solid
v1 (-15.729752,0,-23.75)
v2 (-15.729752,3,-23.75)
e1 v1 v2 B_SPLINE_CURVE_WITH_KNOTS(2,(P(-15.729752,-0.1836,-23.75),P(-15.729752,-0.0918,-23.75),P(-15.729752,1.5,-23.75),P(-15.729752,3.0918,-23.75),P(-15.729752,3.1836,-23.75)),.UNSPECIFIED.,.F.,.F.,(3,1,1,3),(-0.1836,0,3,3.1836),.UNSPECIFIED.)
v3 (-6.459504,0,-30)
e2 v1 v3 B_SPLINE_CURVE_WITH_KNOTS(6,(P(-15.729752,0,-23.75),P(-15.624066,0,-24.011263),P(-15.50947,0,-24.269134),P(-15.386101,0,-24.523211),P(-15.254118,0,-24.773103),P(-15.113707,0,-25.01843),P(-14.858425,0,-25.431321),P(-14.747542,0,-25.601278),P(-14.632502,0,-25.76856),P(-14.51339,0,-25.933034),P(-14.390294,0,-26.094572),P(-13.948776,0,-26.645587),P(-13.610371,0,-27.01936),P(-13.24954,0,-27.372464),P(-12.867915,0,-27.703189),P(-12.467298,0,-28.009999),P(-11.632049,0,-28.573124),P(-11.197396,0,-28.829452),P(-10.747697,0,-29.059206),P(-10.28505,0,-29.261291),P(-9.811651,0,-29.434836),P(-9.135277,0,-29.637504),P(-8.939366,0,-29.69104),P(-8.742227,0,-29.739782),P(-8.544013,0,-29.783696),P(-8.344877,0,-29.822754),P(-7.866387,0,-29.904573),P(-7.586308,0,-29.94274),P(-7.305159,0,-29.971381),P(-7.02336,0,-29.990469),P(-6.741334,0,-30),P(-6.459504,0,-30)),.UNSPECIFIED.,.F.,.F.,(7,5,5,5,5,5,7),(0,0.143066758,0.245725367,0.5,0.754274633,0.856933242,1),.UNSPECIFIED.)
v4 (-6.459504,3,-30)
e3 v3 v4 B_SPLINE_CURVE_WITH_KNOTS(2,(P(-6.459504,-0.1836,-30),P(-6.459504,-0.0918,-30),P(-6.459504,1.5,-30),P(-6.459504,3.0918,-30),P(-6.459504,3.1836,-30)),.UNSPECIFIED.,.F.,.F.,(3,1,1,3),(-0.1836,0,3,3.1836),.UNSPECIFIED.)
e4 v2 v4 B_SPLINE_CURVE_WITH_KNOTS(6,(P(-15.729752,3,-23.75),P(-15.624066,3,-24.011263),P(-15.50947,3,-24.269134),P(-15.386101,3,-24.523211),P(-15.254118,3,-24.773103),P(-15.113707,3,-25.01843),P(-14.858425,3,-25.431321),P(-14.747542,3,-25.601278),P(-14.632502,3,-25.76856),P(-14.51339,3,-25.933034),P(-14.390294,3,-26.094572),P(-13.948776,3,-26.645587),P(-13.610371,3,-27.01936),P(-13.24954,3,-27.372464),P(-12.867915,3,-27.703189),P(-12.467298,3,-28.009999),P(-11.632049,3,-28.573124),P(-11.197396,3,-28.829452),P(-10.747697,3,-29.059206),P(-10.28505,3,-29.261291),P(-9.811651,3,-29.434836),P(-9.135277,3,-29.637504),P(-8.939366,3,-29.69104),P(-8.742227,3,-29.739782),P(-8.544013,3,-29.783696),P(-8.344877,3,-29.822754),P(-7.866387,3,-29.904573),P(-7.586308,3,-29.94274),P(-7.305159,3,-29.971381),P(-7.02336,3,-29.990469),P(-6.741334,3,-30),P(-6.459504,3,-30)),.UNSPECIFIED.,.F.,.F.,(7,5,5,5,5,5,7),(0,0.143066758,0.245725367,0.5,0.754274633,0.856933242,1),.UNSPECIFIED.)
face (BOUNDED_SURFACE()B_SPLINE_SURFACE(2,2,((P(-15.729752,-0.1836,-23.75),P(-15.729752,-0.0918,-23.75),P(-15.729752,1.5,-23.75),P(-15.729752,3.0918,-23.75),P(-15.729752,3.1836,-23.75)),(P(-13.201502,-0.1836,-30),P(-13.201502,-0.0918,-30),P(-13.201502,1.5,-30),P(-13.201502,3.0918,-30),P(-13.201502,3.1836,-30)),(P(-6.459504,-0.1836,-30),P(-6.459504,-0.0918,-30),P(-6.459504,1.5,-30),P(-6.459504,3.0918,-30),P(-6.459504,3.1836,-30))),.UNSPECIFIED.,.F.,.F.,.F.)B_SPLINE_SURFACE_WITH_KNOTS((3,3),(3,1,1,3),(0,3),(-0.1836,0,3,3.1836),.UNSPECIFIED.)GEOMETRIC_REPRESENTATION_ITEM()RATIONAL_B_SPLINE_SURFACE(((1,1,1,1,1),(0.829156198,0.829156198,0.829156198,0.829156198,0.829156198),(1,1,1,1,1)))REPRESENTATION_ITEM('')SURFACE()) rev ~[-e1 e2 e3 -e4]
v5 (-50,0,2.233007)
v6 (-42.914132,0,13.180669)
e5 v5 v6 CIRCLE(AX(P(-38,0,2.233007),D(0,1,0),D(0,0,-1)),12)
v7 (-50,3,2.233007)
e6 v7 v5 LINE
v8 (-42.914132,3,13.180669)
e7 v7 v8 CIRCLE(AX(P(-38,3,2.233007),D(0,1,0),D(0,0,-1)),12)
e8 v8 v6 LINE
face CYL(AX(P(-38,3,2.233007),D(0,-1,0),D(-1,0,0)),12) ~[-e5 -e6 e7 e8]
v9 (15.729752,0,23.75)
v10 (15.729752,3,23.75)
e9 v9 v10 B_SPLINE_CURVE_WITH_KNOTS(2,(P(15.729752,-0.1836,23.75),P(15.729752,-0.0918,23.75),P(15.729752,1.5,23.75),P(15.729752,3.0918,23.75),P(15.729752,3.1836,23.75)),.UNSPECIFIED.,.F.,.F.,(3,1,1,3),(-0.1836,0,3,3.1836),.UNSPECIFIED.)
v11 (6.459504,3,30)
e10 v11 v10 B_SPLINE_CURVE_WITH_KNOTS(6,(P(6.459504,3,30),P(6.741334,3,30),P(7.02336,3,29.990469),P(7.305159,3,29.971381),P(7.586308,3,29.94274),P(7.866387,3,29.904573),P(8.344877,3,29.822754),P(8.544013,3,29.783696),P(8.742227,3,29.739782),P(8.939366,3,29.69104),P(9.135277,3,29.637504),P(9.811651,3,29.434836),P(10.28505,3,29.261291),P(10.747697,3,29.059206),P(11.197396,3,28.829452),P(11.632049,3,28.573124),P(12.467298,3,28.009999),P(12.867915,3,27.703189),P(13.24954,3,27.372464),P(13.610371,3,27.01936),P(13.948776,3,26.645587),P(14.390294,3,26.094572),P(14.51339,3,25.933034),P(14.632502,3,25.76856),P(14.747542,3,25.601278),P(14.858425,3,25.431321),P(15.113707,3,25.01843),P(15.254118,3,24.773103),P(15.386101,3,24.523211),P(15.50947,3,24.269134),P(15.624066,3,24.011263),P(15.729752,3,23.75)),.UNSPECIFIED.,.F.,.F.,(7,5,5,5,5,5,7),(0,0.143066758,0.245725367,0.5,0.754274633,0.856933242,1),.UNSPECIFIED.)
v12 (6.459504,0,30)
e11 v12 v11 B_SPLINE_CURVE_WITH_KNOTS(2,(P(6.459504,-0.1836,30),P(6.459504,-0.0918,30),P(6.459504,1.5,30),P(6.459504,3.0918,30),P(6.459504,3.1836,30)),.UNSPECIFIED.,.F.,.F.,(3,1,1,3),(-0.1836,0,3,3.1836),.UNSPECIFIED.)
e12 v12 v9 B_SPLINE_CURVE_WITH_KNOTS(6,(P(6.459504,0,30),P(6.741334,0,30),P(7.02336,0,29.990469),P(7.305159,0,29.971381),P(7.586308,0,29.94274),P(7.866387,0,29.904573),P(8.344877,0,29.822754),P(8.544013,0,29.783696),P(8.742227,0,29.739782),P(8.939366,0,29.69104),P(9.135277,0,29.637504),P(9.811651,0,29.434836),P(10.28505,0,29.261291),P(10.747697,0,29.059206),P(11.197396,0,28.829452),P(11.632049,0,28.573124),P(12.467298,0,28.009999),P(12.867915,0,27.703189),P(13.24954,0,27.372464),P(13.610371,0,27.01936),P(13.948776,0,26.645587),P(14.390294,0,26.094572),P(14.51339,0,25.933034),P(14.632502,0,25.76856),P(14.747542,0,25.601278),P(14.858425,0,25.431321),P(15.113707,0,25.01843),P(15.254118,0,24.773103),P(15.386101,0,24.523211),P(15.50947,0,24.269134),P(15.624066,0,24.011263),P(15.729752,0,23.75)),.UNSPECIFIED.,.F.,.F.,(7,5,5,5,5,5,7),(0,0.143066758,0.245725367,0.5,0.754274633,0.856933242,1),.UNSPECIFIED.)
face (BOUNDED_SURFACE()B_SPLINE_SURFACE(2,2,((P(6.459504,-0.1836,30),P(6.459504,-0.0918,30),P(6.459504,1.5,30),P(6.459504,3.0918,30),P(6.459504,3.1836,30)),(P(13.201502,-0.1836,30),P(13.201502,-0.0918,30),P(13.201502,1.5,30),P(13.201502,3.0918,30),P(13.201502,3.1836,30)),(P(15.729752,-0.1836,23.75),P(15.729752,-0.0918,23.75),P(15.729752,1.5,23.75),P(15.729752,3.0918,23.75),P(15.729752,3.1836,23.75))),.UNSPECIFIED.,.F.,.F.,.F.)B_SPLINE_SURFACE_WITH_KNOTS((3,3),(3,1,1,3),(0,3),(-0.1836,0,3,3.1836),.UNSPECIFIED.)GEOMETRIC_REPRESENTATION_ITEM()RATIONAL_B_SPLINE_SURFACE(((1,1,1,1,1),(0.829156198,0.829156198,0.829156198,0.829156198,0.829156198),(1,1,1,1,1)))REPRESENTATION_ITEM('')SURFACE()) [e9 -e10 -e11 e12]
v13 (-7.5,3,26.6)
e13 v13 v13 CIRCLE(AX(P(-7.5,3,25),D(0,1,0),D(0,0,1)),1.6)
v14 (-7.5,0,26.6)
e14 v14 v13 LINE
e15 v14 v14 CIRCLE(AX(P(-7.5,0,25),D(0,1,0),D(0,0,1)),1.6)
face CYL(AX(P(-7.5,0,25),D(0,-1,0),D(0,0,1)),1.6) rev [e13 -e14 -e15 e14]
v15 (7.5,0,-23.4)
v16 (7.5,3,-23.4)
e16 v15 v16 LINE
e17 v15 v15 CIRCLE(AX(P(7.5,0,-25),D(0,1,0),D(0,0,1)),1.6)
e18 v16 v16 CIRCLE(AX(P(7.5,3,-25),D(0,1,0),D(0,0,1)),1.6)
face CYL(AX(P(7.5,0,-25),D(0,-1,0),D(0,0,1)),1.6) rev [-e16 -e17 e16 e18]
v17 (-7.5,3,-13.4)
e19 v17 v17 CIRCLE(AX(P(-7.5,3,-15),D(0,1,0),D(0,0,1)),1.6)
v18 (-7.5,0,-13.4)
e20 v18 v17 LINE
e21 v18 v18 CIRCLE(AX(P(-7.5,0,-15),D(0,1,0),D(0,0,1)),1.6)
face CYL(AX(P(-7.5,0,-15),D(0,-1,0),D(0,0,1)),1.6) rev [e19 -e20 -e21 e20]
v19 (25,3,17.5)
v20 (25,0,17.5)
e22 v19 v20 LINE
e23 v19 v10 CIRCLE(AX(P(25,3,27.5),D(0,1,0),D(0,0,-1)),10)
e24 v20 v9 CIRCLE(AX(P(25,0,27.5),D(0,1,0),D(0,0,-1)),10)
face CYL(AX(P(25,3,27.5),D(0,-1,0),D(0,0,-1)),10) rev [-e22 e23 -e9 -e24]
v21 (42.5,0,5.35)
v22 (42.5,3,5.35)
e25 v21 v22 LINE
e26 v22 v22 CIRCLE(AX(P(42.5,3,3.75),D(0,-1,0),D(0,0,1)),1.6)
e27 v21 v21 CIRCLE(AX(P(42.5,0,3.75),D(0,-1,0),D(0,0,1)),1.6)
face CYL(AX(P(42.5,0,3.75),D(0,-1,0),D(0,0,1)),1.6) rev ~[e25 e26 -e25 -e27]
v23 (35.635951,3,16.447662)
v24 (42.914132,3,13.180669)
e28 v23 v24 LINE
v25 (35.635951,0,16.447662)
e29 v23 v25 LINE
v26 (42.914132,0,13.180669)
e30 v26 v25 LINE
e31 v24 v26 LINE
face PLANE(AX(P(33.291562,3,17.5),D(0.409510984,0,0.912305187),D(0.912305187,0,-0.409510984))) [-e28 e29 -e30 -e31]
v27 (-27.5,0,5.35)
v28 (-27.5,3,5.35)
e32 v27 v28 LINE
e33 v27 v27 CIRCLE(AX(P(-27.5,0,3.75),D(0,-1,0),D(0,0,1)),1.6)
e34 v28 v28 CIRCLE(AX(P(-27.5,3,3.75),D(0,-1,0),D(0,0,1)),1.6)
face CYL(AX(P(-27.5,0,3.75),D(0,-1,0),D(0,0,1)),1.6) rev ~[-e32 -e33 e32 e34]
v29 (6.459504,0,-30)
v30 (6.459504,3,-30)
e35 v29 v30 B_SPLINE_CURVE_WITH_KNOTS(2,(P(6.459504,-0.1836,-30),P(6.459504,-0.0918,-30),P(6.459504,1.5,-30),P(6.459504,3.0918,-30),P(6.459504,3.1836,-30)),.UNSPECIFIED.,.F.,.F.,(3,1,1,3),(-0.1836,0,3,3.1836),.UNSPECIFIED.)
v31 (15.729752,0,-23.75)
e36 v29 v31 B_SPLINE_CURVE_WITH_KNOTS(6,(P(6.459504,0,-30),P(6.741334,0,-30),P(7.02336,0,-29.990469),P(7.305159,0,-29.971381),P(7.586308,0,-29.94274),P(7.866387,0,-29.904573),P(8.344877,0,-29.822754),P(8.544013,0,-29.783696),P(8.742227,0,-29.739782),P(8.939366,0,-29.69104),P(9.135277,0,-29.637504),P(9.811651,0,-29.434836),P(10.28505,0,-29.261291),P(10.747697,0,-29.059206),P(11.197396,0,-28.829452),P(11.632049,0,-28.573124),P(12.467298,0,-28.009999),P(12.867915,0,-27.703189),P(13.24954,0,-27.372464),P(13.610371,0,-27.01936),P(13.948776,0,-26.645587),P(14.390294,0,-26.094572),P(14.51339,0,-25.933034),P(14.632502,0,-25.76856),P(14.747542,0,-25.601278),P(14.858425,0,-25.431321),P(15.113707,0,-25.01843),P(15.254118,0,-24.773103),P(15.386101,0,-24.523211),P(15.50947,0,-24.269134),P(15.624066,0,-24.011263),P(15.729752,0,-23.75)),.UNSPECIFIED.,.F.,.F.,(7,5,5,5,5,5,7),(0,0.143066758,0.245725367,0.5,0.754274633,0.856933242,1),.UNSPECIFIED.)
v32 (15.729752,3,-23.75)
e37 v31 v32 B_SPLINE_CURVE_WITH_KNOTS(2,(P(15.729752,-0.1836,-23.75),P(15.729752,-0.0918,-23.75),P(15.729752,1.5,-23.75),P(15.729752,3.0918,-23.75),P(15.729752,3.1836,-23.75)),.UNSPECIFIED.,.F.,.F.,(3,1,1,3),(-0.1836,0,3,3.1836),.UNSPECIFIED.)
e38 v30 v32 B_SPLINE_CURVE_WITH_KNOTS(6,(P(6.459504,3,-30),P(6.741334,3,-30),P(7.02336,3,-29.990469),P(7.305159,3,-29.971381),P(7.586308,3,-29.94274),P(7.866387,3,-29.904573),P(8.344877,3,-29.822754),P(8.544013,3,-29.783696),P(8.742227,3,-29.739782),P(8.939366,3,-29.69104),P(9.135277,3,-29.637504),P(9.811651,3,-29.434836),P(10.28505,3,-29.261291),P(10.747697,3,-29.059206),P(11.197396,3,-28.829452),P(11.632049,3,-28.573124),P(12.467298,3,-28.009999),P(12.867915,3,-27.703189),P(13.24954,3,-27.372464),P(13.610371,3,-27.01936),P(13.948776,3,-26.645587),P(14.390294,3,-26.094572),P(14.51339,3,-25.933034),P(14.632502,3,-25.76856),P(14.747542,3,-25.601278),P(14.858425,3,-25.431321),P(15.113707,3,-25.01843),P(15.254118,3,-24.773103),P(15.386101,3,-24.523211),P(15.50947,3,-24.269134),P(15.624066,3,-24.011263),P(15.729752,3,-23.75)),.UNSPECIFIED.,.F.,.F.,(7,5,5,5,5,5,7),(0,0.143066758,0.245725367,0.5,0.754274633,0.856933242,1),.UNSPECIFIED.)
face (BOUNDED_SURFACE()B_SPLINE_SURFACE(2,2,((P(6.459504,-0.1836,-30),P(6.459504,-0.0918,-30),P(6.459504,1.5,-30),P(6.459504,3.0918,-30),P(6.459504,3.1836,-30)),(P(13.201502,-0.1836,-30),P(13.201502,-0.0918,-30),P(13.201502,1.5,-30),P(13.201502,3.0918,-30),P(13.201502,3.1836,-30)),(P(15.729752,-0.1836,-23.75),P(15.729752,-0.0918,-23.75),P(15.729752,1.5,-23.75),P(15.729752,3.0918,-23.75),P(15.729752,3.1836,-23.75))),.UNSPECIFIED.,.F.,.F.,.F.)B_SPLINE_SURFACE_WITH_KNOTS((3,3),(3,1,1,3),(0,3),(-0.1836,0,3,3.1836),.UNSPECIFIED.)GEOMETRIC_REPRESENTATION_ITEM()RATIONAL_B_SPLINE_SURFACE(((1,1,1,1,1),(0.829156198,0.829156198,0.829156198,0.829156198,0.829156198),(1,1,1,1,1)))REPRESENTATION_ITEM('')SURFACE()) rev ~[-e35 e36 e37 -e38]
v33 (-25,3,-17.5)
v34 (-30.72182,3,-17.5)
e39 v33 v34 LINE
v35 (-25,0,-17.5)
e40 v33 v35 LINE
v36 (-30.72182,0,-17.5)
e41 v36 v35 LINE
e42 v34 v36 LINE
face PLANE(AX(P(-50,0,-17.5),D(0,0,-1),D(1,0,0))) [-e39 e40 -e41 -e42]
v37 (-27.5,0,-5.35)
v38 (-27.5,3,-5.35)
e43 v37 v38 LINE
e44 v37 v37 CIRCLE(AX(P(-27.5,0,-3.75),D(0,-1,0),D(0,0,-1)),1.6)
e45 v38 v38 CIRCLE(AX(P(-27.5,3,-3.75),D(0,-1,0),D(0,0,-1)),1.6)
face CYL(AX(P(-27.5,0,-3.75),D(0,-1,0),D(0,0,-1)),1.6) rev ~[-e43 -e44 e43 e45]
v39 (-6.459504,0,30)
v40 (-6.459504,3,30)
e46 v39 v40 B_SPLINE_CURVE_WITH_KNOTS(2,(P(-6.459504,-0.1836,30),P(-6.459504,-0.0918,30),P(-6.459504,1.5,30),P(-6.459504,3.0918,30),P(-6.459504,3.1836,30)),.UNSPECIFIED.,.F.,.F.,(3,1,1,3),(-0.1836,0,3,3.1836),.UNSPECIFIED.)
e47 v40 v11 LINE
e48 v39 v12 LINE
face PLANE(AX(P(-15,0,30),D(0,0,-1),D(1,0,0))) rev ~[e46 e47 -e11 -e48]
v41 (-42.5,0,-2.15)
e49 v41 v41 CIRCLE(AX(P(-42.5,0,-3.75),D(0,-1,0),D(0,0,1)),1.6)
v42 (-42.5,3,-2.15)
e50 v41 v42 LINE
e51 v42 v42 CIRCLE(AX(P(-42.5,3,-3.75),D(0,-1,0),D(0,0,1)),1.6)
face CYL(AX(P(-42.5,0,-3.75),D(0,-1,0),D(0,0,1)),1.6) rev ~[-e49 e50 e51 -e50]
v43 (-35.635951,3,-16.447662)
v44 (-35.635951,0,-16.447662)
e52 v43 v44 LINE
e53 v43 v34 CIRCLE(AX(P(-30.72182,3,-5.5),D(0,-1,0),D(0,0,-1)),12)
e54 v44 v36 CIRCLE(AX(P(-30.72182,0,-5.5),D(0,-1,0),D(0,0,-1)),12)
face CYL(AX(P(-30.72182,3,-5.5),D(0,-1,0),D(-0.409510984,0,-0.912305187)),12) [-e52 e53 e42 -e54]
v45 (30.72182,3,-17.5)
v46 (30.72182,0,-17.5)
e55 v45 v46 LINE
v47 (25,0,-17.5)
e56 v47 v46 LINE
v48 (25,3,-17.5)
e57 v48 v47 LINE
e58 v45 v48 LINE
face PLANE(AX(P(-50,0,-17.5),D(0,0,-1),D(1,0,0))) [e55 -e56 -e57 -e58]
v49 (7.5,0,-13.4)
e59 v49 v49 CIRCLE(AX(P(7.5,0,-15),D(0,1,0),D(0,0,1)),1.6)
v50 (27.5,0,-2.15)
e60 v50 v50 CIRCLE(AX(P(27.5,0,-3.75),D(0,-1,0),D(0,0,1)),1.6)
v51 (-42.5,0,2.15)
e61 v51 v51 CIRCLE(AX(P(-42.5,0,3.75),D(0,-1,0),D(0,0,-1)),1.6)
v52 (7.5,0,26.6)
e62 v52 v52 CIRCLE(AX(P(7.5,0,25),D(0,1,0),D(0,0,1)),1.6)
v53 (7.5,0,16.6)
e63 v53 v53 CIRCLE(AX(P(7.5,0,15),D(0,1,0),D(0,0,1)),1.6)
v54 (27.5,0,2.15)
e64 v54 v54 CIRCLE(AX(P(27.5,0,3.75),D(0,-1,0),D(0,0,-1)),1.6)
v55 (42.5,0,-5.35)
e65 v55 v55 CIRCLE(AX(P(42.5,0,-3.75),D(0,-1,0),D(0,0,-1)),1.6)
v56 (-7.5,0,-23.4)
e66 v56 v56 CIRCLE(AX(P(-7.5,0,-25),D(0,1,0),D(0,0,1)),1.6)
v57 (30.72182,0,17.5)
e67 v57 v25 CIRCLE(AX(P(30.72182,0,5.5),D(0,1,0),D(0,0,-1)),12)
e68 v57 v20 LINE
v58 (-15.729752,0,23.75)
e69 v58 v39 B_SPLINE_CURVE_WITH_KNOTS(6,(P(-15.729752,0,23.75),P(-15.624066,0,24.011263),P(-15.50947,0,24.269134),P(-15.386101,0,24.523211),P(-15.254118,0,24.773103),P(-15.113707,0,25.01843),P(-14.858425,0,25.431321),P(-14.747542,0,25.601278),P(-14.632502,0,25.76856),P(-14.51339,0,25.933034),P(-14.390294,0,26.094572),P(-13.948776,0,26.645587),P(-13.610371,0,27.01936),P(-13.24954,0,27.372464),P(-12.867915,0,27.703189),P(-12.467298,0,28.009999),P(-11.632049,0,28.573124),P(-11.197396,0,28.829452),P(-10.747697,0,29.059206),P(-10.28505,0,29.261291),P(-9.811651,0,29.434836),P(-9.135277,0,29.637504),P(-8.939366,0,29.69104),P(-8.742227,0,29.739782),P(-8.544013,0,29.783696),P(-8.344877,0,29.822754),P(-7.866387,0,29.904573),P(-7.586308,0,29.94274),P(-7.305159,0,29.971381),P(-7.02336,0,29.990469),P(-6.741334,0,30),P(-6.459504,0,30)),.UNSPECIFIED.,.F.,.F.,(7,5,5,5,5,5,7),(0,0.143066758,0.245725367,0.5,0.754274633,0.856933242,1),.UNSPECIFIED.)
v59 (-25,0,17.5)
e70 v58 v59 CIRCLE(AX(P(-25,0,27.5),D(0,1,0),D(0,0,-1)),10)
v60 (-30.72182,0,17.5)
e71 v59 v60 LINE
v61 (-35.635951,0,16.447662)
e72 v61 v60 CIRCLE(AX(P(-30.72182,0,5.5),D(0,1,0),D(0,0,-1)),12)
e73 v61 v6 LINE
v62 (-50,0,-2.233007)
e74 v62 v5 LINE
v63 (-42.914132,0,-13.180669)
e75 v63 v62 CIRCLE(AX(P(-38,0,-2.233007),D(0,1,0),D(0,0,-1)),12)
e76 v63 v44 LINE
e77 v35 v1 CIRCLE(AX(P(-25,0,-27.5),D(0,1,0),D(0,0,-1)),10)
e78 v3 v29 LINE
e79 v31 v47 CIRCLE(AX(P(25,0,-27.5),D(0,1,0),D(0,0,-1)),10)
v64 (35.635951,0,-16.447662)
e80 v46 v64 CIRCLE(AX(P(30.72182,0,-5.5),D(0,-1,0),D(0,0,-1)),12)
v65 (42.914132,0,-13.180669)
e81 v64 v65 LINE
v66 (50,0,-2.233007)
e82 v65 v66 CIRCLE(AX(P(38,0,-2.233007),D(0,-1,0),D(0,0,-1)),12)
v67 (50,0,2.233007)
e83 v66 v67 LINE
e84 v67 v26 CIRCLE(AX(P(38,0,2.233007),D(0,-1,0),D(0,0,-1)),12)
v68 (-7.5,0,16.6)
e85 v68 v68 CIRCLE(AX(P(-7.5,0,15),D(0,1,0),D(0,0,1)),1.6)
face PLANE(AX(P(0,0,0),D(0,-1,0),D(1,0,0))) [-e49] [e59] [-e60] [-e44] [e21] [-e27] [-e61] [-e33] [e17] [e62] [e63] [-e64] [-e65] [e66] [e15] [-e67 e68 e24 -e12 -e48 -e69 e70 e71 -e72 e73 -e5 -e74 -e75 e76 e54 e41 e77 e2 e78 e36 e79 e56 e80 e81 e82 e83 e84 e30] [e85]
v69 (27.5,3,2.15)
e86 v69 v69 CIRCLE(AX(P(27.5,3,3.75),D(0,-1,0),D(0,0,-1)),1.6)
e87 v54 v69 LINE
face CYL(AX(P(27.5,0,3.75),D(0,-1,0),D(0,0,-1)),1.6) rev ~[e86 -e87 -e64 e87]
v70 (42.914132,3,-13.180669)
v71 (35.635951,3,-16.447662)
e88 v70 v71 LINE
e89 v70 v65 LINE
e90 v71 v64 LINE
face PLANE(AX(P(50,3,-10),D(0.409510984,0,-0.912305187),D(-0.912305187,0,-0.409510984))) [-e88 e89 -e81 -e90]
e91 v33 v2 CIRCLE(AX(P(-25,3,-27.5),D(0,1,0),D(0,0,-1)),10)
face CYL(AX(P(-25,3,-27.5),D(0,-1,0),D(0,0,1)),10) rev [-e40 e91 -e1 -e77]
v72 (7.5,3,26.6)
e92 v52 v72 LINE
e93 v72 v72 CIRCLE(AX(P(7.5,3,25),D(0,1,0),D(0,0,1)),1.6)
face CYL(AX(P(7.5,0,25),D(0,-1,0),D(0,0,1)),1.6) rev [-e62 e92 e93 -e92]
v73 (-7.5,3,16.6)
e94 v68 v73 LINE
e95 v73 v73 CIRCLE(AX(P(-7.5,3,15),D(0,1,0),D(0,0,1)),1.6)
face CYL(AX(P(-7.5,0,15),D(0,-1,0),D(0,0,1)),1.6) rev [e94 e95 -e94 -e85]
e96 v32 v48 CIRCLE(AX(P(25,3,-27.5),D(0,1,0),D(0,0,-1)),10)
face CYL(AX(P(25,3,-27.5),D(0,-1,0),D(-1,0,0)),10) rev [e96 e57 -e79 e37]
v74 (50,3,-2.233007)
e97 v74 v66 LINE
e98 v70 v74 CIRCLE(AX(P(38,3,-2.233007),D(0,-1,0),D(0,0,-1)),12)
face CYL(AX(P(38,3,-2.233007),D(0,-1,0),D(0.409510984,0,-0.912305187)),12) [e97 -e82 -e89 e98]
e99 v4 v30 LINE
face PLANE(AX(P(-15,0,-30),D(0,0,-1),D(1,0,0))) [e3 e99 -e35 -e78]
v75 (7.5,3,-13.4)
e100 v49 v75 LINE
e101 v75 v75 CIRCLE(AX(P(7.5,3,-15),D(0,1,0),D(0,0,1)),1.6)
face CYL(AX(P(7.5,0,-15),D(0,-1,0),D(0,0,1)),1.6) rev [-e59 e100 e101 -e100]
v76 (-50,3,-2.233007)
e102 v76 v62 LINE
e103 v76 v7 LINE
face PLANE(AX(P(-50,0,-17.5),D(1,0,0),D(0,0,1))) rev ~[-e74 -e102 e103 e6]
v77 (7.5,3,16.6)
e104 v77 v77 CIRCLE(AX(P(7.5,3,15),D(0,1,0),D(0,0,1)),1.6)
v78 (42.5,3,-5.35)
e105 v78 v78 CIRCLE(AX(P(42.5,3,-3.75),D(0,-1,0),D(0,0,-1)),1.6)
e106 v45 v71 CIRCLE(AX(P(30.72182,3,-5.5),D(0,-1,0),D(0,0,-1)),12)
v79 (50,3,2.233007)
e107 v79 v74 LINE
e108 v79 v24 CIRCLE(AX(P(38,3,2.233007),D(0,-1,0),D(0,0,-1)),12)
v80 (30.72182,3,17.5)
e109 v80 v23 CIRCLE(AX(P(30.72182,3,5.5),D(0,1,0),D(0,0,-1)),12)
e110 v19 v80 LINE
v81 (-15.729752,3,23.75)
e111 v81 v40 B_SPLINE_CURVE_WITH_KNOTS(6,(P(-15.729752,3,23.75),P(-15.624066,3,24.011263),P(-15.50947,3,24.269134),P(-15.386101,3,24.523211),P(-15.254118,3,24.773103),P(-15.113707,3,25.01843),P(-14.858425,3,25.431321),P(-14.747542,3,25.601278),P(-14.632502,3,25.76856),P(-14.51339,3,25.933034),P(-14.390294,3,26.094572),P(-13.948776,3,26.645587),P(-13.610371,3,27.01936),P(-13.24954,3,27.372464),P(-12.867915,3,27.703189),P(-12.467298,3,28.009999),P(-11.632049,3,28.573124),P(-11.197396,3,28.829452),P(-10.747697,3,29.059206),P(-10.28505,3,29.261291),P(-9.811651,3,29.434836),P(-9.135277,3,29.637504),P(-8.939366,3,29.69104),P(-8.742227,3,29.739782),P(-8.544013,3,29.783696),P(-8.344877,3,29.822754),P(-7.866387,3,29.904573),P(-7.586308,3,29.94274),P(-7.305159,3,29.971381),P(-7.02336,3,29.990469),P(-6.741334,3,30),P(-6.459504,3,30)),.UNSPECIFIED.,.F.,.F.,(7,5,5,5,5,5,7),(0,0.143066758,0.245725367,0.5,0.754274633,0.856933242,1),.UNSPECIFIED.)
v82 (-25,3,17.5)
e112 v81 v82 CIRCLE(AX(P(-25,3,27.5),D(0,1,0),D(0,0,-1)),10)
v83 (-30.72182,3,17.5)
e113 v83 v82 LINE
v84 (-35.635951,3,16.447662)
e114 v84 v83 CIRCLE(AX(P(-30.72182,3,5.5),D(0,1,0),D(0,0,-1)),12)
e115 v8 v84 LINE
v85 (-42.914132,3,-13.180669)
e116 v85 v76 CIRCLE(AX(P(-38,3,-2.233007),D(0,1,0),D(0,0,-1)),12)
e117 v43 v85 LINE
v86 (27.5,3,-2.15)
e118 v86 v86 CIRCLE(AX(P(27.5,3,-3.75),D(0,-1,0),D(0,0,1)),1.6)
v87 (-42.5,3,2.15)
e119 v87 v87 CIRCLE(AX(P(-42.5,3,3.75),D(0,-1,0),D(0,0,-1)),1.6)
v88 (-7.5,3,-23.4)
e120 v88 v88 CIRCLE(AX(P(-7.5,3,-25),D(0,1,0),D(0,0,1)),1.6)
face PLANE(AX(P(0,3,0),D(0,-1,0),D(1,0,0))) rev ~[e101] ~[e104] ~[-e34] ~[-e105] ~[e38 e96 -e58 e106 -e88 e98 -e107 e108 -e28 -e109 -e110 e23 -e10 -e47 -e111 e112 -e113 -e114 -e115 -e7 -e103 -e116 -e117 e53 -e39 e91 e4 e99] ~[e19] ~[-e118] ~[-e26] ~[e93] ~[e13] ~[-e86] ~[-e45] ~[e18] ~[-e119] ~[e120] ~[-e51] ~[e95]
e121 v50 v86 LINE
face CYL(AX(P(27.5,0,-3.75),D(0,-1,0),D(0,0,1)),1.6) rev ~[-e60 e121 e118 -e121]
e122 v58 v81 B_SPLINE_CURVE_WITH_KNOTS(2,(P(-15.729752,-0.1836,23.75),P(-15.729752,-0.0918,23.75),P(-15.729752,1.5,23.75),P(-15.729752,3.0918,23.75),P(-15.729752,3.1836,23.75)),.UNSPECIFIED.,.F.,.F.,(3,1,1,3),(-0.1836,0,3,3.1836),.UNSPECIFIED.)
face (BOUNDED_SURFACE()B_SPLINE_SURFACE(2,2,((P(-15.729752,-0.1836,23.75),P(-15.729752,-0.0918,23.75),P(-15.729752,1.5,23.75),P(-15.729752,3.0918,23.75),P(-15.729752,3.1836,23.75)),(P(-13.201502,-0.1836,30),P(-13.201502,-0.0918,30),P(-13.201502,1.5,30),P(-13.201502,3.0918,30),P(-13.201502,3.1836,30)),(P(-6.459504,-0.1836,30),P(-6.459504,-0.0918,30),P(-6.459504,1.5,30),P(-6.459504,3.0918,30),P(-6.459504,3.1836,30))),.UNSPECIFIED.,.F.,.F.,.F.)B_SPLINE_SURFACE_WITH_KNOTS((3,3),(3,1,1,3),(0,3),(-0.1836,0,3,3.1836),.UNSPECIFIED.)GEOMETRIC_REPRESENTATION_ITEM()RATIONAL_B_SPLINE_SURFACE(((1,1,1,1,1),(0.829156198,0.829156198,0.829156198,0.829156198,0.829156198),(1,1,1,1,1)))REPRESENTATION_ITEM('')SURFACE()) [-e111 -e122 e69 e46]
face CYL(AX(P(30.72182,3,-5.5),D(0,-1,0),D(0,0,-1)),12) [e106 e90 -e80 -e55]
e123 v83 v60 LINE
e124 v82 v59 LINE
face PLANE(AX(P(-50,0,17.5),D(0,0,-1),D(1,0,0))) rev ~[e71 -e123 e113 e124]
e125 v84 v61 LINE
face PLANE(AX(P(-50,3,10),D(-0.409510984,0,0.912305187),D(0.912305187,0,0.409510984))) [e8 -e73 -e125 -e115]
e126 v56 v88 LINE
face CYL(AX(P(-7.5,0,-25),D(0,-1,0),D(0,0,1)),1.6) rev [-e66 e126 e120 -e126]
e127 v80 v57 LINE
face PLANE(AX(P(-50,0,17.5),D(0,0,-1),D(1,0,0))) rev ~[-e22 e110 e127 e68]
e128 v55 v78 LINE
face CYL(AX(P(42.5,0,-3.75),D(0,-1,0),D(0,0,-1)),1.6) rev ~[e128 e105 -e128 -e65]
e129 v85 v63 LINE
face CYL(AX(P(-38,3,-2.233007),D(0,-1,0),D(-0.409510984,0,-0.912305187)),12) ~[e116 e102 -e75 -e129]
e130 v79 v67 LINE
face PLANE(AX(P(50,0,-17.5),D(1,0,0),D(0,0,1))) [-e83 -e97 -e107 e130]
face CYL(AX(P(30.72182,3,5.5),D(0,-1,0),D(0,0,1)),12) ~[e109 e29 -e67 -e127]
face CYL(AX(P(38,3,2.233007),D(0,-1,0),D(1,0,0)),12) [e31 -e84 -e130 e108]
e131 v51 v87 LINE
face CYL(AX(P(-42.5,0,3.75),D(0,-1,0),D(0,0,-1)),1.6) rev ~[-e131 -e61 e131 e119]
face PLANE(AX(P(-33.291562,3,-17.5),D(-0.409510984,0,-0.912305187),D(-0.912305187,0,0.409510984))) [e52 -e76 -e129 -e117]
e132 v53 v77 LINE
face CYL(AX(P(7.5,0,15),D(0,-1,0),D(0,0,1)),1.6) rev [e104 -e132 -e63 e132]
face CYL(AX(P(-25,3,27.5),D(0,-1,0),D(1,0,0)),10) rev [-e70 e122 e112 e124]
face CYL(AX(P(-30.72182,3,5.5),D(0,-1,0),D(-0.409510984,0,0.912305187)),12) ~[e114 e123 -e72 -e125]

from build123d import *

# Parameters (mm, degrees)
SKETCH_2_W          = 30
SKETCH_2_H          = 60
SKETCH_2_R          = 1.6
EXTRUDE_1_DEPTH     = 3
SKETCH_3_W          = 100
SKETCH_3_H          = 35
SKETCH_3_W_2        = 28.612944684
SKETCH_3_H_2        = 33.572555392
EXTRUDE_2_DEPTH     = 3
SKETCH_4_R          = 1.6
CUT_EXTRUDE_1_DEPTH = 59.386642308
SKETCH_6_OUTSIDE_W  = 125.332
SKETCH_6_OUTSIDE_H  = 85.332
CUT_EXTRUDE_2_DEPTH = 59.386642308
FILLET_3_R          = 10
FILLET_4_R          = 10
FILLET_5_R          = 12
FILLET_6_R          = 12


with BuildPart() as part:
    # 草图2 → 凸台-拉伸1 (new body)
    with BuildSketch(Plane(origin=(0, 0, 0), x_dir=(1, 0, 0), z_dir=(0, 1, 0))):
        Rectangle(SKETCH_2_W, SKETCH_2_H)
        with Locations(Location((-7.5, -15, 0), (0, 0, 270))):
            Circle(SKETCH_2_R, mode=Mode.SUBTRACT)
        with Locations(Location((7.5, -15, 0), (0, 0, 270))):
            Circle(SKETCH_2_R, mode=Mode.SUBTRACT)
        with Locations(Location((7.5, 15, 0), (0, 0, 270))):
            Circle(SKETCH_2_R, mode=Mode.SUBTRACT)
        with Locations(Location((7.5, 25, 0), (0, 0, 270))):
            Circle(SKETCH_2_R, mode=Mode.SUBTRACT)
        with Locations(Location((-7.5, 15, 0), (0, 0, 270))):
            Circle(SKETCH_2_R, mode=Mode.SUBTRACT)
        with Locations(Location((-7.5, 25, 0), (0, 0, 270))):
            Circle(SKETCH_2_R, mode=Mode.SUBTRACT)
        with Locations(Location((7.5, -25, 0), (0, 0, 270))):
            Circle(SKETCH_2_R, mode=Mode.SUBTRACT)
        with Locations(Location((-7.5, -25, 0), (0, 0, 270))):
            Circle(SKETCH_2_R, mode=Mode.SUBTRACT)
    extrude(amount=EXTRUDE_1_DEPTH)

    # 草图3 → 凸台-拉伸2 (add)
    with BuildSketch(Plane.XZ):
        Rectangle(SKETCH_3_W, SKETCH_3_H)
        Rectangle(SKETCH_3_W_2, SKETCH_3_H_2, mode=Mode.SUBTRACT)
    extrude(amount=-EXTRUDE_2_DEPTH)

    # 草图4 → 切除-拉伸1 (cut, through all)
    with BuildSketch(Plane.XZ):
        with Locations(Location((-42.5, 3.75, 0), (0, 0, 270))):
            Circle(SKETCH_4_R)
        with Locations(Location((-42.5, -3.75, 0), (0, 0, 90))):
            Circle(SKETCH_4_R)
        with Locations(Location((-27.5, -3.75, 0), (0, 0, 270))):
            Circle(SKETCH_4_R)
        with Locations(Location((-27.5, 3.75, 0), (0, 0, 90))):
            Circle(SKETCH_4_R)
        with Locations(Location((42.5, 3.75, 0), (0, 0, 90))):
            Circle(SKETCH_4_R)
        with Locations(Location((42.5, -3.75, 0), (0, 0, 270))):
            Circle(SKETCH_4_R)
        with Locations(Location((27.5, -3.75, 0), (0, 0, 90))):
            Circle(SKETCH_4_R)
        with Locations(Location((27.5, 3.75, 0), (0, 0, 270))):
            Circle(SKETCH_4_R)
    extrude(amount=-CUT_EXTRUDE_1_DEPTH, mode=Mode.SUBTRACT)

    # 草图6 outside → 切除-拉伸2 (cut, through all)
    with BuildSketch(Plane(origin=(0, 3, 0), x_dir=(1, 0, 0), z_dir=(0, 1, 0))):
        Rectangle(SKETCH_6_OUTSIDE_W, SKETCH_6_OUTSIDE_H)
        Polygon((-15, 30), (-23.291561976, 17.5), (-33.291561976, 17.5), (-50, 10), (-50, -10), (-33.291561976, -17.5), (-23.291561976, -17.5), (-15, -30), (15, -30), (23.291561976, -17.5), (33.291561976, -17.5), (50, -10), (50, 10), (33.291561976, 17.5), (23.291561976, 17.5), (15, 30), align=None, mode=Mode.SUBTRACT)
    extrude(amount=-CUT_EXTRUDE_2_DEPTH, mode=Mode.SUBTRACT)

    # 圆角3
    fillet_3_edges = [part.edges().sort_by_distance(p)[0] for p in [
        (15, 1.5, -17.5),
        (15, 1.5, 17.5),
        (-15, 1.5, -17.5),
        (-15, 1.5, 17.5),
    ]]
    fillet(fillet_3_edges, radius=FILLET_3_R)

    # 圆角4
    fillet_4_edges = [part.edges().sort_by_distance(p)[0] for p in [
        (-15, 1.5, 30),
        (15, 1.5, 30),
        (15, 1.5, -30),
        (-15, 1.5, -30),
    ]]
    fillet(fillet_4_edges, radius=FILLET_4_R)

    # 圆角5
    fillet_5_edges = [part.edges().sort_by_distance(p)[0] for p in [
        (50, 1.5, -10),
        (50, 1.5, 10),
        (-50, 1.5, 10),
        (-50, 1.5, -10),
    ]]
    fillet(fillet_5_edges, radius=FILLET_5_R)

    # 圆角6
    fillet_6_edges = [part.edges().sort_by_distance(p)[0] for p in [
        (33.291561976, 1.5, -17.5),
        (33.291561976, 1.5, 17.5),
        (-33.291561976, 1.5, 17.5),
        (-33.291561976, 1.5, -17.5),
    ]]
    fillet(fillet_6_edges, radius=FILLET_6_R)


solid = part.part
